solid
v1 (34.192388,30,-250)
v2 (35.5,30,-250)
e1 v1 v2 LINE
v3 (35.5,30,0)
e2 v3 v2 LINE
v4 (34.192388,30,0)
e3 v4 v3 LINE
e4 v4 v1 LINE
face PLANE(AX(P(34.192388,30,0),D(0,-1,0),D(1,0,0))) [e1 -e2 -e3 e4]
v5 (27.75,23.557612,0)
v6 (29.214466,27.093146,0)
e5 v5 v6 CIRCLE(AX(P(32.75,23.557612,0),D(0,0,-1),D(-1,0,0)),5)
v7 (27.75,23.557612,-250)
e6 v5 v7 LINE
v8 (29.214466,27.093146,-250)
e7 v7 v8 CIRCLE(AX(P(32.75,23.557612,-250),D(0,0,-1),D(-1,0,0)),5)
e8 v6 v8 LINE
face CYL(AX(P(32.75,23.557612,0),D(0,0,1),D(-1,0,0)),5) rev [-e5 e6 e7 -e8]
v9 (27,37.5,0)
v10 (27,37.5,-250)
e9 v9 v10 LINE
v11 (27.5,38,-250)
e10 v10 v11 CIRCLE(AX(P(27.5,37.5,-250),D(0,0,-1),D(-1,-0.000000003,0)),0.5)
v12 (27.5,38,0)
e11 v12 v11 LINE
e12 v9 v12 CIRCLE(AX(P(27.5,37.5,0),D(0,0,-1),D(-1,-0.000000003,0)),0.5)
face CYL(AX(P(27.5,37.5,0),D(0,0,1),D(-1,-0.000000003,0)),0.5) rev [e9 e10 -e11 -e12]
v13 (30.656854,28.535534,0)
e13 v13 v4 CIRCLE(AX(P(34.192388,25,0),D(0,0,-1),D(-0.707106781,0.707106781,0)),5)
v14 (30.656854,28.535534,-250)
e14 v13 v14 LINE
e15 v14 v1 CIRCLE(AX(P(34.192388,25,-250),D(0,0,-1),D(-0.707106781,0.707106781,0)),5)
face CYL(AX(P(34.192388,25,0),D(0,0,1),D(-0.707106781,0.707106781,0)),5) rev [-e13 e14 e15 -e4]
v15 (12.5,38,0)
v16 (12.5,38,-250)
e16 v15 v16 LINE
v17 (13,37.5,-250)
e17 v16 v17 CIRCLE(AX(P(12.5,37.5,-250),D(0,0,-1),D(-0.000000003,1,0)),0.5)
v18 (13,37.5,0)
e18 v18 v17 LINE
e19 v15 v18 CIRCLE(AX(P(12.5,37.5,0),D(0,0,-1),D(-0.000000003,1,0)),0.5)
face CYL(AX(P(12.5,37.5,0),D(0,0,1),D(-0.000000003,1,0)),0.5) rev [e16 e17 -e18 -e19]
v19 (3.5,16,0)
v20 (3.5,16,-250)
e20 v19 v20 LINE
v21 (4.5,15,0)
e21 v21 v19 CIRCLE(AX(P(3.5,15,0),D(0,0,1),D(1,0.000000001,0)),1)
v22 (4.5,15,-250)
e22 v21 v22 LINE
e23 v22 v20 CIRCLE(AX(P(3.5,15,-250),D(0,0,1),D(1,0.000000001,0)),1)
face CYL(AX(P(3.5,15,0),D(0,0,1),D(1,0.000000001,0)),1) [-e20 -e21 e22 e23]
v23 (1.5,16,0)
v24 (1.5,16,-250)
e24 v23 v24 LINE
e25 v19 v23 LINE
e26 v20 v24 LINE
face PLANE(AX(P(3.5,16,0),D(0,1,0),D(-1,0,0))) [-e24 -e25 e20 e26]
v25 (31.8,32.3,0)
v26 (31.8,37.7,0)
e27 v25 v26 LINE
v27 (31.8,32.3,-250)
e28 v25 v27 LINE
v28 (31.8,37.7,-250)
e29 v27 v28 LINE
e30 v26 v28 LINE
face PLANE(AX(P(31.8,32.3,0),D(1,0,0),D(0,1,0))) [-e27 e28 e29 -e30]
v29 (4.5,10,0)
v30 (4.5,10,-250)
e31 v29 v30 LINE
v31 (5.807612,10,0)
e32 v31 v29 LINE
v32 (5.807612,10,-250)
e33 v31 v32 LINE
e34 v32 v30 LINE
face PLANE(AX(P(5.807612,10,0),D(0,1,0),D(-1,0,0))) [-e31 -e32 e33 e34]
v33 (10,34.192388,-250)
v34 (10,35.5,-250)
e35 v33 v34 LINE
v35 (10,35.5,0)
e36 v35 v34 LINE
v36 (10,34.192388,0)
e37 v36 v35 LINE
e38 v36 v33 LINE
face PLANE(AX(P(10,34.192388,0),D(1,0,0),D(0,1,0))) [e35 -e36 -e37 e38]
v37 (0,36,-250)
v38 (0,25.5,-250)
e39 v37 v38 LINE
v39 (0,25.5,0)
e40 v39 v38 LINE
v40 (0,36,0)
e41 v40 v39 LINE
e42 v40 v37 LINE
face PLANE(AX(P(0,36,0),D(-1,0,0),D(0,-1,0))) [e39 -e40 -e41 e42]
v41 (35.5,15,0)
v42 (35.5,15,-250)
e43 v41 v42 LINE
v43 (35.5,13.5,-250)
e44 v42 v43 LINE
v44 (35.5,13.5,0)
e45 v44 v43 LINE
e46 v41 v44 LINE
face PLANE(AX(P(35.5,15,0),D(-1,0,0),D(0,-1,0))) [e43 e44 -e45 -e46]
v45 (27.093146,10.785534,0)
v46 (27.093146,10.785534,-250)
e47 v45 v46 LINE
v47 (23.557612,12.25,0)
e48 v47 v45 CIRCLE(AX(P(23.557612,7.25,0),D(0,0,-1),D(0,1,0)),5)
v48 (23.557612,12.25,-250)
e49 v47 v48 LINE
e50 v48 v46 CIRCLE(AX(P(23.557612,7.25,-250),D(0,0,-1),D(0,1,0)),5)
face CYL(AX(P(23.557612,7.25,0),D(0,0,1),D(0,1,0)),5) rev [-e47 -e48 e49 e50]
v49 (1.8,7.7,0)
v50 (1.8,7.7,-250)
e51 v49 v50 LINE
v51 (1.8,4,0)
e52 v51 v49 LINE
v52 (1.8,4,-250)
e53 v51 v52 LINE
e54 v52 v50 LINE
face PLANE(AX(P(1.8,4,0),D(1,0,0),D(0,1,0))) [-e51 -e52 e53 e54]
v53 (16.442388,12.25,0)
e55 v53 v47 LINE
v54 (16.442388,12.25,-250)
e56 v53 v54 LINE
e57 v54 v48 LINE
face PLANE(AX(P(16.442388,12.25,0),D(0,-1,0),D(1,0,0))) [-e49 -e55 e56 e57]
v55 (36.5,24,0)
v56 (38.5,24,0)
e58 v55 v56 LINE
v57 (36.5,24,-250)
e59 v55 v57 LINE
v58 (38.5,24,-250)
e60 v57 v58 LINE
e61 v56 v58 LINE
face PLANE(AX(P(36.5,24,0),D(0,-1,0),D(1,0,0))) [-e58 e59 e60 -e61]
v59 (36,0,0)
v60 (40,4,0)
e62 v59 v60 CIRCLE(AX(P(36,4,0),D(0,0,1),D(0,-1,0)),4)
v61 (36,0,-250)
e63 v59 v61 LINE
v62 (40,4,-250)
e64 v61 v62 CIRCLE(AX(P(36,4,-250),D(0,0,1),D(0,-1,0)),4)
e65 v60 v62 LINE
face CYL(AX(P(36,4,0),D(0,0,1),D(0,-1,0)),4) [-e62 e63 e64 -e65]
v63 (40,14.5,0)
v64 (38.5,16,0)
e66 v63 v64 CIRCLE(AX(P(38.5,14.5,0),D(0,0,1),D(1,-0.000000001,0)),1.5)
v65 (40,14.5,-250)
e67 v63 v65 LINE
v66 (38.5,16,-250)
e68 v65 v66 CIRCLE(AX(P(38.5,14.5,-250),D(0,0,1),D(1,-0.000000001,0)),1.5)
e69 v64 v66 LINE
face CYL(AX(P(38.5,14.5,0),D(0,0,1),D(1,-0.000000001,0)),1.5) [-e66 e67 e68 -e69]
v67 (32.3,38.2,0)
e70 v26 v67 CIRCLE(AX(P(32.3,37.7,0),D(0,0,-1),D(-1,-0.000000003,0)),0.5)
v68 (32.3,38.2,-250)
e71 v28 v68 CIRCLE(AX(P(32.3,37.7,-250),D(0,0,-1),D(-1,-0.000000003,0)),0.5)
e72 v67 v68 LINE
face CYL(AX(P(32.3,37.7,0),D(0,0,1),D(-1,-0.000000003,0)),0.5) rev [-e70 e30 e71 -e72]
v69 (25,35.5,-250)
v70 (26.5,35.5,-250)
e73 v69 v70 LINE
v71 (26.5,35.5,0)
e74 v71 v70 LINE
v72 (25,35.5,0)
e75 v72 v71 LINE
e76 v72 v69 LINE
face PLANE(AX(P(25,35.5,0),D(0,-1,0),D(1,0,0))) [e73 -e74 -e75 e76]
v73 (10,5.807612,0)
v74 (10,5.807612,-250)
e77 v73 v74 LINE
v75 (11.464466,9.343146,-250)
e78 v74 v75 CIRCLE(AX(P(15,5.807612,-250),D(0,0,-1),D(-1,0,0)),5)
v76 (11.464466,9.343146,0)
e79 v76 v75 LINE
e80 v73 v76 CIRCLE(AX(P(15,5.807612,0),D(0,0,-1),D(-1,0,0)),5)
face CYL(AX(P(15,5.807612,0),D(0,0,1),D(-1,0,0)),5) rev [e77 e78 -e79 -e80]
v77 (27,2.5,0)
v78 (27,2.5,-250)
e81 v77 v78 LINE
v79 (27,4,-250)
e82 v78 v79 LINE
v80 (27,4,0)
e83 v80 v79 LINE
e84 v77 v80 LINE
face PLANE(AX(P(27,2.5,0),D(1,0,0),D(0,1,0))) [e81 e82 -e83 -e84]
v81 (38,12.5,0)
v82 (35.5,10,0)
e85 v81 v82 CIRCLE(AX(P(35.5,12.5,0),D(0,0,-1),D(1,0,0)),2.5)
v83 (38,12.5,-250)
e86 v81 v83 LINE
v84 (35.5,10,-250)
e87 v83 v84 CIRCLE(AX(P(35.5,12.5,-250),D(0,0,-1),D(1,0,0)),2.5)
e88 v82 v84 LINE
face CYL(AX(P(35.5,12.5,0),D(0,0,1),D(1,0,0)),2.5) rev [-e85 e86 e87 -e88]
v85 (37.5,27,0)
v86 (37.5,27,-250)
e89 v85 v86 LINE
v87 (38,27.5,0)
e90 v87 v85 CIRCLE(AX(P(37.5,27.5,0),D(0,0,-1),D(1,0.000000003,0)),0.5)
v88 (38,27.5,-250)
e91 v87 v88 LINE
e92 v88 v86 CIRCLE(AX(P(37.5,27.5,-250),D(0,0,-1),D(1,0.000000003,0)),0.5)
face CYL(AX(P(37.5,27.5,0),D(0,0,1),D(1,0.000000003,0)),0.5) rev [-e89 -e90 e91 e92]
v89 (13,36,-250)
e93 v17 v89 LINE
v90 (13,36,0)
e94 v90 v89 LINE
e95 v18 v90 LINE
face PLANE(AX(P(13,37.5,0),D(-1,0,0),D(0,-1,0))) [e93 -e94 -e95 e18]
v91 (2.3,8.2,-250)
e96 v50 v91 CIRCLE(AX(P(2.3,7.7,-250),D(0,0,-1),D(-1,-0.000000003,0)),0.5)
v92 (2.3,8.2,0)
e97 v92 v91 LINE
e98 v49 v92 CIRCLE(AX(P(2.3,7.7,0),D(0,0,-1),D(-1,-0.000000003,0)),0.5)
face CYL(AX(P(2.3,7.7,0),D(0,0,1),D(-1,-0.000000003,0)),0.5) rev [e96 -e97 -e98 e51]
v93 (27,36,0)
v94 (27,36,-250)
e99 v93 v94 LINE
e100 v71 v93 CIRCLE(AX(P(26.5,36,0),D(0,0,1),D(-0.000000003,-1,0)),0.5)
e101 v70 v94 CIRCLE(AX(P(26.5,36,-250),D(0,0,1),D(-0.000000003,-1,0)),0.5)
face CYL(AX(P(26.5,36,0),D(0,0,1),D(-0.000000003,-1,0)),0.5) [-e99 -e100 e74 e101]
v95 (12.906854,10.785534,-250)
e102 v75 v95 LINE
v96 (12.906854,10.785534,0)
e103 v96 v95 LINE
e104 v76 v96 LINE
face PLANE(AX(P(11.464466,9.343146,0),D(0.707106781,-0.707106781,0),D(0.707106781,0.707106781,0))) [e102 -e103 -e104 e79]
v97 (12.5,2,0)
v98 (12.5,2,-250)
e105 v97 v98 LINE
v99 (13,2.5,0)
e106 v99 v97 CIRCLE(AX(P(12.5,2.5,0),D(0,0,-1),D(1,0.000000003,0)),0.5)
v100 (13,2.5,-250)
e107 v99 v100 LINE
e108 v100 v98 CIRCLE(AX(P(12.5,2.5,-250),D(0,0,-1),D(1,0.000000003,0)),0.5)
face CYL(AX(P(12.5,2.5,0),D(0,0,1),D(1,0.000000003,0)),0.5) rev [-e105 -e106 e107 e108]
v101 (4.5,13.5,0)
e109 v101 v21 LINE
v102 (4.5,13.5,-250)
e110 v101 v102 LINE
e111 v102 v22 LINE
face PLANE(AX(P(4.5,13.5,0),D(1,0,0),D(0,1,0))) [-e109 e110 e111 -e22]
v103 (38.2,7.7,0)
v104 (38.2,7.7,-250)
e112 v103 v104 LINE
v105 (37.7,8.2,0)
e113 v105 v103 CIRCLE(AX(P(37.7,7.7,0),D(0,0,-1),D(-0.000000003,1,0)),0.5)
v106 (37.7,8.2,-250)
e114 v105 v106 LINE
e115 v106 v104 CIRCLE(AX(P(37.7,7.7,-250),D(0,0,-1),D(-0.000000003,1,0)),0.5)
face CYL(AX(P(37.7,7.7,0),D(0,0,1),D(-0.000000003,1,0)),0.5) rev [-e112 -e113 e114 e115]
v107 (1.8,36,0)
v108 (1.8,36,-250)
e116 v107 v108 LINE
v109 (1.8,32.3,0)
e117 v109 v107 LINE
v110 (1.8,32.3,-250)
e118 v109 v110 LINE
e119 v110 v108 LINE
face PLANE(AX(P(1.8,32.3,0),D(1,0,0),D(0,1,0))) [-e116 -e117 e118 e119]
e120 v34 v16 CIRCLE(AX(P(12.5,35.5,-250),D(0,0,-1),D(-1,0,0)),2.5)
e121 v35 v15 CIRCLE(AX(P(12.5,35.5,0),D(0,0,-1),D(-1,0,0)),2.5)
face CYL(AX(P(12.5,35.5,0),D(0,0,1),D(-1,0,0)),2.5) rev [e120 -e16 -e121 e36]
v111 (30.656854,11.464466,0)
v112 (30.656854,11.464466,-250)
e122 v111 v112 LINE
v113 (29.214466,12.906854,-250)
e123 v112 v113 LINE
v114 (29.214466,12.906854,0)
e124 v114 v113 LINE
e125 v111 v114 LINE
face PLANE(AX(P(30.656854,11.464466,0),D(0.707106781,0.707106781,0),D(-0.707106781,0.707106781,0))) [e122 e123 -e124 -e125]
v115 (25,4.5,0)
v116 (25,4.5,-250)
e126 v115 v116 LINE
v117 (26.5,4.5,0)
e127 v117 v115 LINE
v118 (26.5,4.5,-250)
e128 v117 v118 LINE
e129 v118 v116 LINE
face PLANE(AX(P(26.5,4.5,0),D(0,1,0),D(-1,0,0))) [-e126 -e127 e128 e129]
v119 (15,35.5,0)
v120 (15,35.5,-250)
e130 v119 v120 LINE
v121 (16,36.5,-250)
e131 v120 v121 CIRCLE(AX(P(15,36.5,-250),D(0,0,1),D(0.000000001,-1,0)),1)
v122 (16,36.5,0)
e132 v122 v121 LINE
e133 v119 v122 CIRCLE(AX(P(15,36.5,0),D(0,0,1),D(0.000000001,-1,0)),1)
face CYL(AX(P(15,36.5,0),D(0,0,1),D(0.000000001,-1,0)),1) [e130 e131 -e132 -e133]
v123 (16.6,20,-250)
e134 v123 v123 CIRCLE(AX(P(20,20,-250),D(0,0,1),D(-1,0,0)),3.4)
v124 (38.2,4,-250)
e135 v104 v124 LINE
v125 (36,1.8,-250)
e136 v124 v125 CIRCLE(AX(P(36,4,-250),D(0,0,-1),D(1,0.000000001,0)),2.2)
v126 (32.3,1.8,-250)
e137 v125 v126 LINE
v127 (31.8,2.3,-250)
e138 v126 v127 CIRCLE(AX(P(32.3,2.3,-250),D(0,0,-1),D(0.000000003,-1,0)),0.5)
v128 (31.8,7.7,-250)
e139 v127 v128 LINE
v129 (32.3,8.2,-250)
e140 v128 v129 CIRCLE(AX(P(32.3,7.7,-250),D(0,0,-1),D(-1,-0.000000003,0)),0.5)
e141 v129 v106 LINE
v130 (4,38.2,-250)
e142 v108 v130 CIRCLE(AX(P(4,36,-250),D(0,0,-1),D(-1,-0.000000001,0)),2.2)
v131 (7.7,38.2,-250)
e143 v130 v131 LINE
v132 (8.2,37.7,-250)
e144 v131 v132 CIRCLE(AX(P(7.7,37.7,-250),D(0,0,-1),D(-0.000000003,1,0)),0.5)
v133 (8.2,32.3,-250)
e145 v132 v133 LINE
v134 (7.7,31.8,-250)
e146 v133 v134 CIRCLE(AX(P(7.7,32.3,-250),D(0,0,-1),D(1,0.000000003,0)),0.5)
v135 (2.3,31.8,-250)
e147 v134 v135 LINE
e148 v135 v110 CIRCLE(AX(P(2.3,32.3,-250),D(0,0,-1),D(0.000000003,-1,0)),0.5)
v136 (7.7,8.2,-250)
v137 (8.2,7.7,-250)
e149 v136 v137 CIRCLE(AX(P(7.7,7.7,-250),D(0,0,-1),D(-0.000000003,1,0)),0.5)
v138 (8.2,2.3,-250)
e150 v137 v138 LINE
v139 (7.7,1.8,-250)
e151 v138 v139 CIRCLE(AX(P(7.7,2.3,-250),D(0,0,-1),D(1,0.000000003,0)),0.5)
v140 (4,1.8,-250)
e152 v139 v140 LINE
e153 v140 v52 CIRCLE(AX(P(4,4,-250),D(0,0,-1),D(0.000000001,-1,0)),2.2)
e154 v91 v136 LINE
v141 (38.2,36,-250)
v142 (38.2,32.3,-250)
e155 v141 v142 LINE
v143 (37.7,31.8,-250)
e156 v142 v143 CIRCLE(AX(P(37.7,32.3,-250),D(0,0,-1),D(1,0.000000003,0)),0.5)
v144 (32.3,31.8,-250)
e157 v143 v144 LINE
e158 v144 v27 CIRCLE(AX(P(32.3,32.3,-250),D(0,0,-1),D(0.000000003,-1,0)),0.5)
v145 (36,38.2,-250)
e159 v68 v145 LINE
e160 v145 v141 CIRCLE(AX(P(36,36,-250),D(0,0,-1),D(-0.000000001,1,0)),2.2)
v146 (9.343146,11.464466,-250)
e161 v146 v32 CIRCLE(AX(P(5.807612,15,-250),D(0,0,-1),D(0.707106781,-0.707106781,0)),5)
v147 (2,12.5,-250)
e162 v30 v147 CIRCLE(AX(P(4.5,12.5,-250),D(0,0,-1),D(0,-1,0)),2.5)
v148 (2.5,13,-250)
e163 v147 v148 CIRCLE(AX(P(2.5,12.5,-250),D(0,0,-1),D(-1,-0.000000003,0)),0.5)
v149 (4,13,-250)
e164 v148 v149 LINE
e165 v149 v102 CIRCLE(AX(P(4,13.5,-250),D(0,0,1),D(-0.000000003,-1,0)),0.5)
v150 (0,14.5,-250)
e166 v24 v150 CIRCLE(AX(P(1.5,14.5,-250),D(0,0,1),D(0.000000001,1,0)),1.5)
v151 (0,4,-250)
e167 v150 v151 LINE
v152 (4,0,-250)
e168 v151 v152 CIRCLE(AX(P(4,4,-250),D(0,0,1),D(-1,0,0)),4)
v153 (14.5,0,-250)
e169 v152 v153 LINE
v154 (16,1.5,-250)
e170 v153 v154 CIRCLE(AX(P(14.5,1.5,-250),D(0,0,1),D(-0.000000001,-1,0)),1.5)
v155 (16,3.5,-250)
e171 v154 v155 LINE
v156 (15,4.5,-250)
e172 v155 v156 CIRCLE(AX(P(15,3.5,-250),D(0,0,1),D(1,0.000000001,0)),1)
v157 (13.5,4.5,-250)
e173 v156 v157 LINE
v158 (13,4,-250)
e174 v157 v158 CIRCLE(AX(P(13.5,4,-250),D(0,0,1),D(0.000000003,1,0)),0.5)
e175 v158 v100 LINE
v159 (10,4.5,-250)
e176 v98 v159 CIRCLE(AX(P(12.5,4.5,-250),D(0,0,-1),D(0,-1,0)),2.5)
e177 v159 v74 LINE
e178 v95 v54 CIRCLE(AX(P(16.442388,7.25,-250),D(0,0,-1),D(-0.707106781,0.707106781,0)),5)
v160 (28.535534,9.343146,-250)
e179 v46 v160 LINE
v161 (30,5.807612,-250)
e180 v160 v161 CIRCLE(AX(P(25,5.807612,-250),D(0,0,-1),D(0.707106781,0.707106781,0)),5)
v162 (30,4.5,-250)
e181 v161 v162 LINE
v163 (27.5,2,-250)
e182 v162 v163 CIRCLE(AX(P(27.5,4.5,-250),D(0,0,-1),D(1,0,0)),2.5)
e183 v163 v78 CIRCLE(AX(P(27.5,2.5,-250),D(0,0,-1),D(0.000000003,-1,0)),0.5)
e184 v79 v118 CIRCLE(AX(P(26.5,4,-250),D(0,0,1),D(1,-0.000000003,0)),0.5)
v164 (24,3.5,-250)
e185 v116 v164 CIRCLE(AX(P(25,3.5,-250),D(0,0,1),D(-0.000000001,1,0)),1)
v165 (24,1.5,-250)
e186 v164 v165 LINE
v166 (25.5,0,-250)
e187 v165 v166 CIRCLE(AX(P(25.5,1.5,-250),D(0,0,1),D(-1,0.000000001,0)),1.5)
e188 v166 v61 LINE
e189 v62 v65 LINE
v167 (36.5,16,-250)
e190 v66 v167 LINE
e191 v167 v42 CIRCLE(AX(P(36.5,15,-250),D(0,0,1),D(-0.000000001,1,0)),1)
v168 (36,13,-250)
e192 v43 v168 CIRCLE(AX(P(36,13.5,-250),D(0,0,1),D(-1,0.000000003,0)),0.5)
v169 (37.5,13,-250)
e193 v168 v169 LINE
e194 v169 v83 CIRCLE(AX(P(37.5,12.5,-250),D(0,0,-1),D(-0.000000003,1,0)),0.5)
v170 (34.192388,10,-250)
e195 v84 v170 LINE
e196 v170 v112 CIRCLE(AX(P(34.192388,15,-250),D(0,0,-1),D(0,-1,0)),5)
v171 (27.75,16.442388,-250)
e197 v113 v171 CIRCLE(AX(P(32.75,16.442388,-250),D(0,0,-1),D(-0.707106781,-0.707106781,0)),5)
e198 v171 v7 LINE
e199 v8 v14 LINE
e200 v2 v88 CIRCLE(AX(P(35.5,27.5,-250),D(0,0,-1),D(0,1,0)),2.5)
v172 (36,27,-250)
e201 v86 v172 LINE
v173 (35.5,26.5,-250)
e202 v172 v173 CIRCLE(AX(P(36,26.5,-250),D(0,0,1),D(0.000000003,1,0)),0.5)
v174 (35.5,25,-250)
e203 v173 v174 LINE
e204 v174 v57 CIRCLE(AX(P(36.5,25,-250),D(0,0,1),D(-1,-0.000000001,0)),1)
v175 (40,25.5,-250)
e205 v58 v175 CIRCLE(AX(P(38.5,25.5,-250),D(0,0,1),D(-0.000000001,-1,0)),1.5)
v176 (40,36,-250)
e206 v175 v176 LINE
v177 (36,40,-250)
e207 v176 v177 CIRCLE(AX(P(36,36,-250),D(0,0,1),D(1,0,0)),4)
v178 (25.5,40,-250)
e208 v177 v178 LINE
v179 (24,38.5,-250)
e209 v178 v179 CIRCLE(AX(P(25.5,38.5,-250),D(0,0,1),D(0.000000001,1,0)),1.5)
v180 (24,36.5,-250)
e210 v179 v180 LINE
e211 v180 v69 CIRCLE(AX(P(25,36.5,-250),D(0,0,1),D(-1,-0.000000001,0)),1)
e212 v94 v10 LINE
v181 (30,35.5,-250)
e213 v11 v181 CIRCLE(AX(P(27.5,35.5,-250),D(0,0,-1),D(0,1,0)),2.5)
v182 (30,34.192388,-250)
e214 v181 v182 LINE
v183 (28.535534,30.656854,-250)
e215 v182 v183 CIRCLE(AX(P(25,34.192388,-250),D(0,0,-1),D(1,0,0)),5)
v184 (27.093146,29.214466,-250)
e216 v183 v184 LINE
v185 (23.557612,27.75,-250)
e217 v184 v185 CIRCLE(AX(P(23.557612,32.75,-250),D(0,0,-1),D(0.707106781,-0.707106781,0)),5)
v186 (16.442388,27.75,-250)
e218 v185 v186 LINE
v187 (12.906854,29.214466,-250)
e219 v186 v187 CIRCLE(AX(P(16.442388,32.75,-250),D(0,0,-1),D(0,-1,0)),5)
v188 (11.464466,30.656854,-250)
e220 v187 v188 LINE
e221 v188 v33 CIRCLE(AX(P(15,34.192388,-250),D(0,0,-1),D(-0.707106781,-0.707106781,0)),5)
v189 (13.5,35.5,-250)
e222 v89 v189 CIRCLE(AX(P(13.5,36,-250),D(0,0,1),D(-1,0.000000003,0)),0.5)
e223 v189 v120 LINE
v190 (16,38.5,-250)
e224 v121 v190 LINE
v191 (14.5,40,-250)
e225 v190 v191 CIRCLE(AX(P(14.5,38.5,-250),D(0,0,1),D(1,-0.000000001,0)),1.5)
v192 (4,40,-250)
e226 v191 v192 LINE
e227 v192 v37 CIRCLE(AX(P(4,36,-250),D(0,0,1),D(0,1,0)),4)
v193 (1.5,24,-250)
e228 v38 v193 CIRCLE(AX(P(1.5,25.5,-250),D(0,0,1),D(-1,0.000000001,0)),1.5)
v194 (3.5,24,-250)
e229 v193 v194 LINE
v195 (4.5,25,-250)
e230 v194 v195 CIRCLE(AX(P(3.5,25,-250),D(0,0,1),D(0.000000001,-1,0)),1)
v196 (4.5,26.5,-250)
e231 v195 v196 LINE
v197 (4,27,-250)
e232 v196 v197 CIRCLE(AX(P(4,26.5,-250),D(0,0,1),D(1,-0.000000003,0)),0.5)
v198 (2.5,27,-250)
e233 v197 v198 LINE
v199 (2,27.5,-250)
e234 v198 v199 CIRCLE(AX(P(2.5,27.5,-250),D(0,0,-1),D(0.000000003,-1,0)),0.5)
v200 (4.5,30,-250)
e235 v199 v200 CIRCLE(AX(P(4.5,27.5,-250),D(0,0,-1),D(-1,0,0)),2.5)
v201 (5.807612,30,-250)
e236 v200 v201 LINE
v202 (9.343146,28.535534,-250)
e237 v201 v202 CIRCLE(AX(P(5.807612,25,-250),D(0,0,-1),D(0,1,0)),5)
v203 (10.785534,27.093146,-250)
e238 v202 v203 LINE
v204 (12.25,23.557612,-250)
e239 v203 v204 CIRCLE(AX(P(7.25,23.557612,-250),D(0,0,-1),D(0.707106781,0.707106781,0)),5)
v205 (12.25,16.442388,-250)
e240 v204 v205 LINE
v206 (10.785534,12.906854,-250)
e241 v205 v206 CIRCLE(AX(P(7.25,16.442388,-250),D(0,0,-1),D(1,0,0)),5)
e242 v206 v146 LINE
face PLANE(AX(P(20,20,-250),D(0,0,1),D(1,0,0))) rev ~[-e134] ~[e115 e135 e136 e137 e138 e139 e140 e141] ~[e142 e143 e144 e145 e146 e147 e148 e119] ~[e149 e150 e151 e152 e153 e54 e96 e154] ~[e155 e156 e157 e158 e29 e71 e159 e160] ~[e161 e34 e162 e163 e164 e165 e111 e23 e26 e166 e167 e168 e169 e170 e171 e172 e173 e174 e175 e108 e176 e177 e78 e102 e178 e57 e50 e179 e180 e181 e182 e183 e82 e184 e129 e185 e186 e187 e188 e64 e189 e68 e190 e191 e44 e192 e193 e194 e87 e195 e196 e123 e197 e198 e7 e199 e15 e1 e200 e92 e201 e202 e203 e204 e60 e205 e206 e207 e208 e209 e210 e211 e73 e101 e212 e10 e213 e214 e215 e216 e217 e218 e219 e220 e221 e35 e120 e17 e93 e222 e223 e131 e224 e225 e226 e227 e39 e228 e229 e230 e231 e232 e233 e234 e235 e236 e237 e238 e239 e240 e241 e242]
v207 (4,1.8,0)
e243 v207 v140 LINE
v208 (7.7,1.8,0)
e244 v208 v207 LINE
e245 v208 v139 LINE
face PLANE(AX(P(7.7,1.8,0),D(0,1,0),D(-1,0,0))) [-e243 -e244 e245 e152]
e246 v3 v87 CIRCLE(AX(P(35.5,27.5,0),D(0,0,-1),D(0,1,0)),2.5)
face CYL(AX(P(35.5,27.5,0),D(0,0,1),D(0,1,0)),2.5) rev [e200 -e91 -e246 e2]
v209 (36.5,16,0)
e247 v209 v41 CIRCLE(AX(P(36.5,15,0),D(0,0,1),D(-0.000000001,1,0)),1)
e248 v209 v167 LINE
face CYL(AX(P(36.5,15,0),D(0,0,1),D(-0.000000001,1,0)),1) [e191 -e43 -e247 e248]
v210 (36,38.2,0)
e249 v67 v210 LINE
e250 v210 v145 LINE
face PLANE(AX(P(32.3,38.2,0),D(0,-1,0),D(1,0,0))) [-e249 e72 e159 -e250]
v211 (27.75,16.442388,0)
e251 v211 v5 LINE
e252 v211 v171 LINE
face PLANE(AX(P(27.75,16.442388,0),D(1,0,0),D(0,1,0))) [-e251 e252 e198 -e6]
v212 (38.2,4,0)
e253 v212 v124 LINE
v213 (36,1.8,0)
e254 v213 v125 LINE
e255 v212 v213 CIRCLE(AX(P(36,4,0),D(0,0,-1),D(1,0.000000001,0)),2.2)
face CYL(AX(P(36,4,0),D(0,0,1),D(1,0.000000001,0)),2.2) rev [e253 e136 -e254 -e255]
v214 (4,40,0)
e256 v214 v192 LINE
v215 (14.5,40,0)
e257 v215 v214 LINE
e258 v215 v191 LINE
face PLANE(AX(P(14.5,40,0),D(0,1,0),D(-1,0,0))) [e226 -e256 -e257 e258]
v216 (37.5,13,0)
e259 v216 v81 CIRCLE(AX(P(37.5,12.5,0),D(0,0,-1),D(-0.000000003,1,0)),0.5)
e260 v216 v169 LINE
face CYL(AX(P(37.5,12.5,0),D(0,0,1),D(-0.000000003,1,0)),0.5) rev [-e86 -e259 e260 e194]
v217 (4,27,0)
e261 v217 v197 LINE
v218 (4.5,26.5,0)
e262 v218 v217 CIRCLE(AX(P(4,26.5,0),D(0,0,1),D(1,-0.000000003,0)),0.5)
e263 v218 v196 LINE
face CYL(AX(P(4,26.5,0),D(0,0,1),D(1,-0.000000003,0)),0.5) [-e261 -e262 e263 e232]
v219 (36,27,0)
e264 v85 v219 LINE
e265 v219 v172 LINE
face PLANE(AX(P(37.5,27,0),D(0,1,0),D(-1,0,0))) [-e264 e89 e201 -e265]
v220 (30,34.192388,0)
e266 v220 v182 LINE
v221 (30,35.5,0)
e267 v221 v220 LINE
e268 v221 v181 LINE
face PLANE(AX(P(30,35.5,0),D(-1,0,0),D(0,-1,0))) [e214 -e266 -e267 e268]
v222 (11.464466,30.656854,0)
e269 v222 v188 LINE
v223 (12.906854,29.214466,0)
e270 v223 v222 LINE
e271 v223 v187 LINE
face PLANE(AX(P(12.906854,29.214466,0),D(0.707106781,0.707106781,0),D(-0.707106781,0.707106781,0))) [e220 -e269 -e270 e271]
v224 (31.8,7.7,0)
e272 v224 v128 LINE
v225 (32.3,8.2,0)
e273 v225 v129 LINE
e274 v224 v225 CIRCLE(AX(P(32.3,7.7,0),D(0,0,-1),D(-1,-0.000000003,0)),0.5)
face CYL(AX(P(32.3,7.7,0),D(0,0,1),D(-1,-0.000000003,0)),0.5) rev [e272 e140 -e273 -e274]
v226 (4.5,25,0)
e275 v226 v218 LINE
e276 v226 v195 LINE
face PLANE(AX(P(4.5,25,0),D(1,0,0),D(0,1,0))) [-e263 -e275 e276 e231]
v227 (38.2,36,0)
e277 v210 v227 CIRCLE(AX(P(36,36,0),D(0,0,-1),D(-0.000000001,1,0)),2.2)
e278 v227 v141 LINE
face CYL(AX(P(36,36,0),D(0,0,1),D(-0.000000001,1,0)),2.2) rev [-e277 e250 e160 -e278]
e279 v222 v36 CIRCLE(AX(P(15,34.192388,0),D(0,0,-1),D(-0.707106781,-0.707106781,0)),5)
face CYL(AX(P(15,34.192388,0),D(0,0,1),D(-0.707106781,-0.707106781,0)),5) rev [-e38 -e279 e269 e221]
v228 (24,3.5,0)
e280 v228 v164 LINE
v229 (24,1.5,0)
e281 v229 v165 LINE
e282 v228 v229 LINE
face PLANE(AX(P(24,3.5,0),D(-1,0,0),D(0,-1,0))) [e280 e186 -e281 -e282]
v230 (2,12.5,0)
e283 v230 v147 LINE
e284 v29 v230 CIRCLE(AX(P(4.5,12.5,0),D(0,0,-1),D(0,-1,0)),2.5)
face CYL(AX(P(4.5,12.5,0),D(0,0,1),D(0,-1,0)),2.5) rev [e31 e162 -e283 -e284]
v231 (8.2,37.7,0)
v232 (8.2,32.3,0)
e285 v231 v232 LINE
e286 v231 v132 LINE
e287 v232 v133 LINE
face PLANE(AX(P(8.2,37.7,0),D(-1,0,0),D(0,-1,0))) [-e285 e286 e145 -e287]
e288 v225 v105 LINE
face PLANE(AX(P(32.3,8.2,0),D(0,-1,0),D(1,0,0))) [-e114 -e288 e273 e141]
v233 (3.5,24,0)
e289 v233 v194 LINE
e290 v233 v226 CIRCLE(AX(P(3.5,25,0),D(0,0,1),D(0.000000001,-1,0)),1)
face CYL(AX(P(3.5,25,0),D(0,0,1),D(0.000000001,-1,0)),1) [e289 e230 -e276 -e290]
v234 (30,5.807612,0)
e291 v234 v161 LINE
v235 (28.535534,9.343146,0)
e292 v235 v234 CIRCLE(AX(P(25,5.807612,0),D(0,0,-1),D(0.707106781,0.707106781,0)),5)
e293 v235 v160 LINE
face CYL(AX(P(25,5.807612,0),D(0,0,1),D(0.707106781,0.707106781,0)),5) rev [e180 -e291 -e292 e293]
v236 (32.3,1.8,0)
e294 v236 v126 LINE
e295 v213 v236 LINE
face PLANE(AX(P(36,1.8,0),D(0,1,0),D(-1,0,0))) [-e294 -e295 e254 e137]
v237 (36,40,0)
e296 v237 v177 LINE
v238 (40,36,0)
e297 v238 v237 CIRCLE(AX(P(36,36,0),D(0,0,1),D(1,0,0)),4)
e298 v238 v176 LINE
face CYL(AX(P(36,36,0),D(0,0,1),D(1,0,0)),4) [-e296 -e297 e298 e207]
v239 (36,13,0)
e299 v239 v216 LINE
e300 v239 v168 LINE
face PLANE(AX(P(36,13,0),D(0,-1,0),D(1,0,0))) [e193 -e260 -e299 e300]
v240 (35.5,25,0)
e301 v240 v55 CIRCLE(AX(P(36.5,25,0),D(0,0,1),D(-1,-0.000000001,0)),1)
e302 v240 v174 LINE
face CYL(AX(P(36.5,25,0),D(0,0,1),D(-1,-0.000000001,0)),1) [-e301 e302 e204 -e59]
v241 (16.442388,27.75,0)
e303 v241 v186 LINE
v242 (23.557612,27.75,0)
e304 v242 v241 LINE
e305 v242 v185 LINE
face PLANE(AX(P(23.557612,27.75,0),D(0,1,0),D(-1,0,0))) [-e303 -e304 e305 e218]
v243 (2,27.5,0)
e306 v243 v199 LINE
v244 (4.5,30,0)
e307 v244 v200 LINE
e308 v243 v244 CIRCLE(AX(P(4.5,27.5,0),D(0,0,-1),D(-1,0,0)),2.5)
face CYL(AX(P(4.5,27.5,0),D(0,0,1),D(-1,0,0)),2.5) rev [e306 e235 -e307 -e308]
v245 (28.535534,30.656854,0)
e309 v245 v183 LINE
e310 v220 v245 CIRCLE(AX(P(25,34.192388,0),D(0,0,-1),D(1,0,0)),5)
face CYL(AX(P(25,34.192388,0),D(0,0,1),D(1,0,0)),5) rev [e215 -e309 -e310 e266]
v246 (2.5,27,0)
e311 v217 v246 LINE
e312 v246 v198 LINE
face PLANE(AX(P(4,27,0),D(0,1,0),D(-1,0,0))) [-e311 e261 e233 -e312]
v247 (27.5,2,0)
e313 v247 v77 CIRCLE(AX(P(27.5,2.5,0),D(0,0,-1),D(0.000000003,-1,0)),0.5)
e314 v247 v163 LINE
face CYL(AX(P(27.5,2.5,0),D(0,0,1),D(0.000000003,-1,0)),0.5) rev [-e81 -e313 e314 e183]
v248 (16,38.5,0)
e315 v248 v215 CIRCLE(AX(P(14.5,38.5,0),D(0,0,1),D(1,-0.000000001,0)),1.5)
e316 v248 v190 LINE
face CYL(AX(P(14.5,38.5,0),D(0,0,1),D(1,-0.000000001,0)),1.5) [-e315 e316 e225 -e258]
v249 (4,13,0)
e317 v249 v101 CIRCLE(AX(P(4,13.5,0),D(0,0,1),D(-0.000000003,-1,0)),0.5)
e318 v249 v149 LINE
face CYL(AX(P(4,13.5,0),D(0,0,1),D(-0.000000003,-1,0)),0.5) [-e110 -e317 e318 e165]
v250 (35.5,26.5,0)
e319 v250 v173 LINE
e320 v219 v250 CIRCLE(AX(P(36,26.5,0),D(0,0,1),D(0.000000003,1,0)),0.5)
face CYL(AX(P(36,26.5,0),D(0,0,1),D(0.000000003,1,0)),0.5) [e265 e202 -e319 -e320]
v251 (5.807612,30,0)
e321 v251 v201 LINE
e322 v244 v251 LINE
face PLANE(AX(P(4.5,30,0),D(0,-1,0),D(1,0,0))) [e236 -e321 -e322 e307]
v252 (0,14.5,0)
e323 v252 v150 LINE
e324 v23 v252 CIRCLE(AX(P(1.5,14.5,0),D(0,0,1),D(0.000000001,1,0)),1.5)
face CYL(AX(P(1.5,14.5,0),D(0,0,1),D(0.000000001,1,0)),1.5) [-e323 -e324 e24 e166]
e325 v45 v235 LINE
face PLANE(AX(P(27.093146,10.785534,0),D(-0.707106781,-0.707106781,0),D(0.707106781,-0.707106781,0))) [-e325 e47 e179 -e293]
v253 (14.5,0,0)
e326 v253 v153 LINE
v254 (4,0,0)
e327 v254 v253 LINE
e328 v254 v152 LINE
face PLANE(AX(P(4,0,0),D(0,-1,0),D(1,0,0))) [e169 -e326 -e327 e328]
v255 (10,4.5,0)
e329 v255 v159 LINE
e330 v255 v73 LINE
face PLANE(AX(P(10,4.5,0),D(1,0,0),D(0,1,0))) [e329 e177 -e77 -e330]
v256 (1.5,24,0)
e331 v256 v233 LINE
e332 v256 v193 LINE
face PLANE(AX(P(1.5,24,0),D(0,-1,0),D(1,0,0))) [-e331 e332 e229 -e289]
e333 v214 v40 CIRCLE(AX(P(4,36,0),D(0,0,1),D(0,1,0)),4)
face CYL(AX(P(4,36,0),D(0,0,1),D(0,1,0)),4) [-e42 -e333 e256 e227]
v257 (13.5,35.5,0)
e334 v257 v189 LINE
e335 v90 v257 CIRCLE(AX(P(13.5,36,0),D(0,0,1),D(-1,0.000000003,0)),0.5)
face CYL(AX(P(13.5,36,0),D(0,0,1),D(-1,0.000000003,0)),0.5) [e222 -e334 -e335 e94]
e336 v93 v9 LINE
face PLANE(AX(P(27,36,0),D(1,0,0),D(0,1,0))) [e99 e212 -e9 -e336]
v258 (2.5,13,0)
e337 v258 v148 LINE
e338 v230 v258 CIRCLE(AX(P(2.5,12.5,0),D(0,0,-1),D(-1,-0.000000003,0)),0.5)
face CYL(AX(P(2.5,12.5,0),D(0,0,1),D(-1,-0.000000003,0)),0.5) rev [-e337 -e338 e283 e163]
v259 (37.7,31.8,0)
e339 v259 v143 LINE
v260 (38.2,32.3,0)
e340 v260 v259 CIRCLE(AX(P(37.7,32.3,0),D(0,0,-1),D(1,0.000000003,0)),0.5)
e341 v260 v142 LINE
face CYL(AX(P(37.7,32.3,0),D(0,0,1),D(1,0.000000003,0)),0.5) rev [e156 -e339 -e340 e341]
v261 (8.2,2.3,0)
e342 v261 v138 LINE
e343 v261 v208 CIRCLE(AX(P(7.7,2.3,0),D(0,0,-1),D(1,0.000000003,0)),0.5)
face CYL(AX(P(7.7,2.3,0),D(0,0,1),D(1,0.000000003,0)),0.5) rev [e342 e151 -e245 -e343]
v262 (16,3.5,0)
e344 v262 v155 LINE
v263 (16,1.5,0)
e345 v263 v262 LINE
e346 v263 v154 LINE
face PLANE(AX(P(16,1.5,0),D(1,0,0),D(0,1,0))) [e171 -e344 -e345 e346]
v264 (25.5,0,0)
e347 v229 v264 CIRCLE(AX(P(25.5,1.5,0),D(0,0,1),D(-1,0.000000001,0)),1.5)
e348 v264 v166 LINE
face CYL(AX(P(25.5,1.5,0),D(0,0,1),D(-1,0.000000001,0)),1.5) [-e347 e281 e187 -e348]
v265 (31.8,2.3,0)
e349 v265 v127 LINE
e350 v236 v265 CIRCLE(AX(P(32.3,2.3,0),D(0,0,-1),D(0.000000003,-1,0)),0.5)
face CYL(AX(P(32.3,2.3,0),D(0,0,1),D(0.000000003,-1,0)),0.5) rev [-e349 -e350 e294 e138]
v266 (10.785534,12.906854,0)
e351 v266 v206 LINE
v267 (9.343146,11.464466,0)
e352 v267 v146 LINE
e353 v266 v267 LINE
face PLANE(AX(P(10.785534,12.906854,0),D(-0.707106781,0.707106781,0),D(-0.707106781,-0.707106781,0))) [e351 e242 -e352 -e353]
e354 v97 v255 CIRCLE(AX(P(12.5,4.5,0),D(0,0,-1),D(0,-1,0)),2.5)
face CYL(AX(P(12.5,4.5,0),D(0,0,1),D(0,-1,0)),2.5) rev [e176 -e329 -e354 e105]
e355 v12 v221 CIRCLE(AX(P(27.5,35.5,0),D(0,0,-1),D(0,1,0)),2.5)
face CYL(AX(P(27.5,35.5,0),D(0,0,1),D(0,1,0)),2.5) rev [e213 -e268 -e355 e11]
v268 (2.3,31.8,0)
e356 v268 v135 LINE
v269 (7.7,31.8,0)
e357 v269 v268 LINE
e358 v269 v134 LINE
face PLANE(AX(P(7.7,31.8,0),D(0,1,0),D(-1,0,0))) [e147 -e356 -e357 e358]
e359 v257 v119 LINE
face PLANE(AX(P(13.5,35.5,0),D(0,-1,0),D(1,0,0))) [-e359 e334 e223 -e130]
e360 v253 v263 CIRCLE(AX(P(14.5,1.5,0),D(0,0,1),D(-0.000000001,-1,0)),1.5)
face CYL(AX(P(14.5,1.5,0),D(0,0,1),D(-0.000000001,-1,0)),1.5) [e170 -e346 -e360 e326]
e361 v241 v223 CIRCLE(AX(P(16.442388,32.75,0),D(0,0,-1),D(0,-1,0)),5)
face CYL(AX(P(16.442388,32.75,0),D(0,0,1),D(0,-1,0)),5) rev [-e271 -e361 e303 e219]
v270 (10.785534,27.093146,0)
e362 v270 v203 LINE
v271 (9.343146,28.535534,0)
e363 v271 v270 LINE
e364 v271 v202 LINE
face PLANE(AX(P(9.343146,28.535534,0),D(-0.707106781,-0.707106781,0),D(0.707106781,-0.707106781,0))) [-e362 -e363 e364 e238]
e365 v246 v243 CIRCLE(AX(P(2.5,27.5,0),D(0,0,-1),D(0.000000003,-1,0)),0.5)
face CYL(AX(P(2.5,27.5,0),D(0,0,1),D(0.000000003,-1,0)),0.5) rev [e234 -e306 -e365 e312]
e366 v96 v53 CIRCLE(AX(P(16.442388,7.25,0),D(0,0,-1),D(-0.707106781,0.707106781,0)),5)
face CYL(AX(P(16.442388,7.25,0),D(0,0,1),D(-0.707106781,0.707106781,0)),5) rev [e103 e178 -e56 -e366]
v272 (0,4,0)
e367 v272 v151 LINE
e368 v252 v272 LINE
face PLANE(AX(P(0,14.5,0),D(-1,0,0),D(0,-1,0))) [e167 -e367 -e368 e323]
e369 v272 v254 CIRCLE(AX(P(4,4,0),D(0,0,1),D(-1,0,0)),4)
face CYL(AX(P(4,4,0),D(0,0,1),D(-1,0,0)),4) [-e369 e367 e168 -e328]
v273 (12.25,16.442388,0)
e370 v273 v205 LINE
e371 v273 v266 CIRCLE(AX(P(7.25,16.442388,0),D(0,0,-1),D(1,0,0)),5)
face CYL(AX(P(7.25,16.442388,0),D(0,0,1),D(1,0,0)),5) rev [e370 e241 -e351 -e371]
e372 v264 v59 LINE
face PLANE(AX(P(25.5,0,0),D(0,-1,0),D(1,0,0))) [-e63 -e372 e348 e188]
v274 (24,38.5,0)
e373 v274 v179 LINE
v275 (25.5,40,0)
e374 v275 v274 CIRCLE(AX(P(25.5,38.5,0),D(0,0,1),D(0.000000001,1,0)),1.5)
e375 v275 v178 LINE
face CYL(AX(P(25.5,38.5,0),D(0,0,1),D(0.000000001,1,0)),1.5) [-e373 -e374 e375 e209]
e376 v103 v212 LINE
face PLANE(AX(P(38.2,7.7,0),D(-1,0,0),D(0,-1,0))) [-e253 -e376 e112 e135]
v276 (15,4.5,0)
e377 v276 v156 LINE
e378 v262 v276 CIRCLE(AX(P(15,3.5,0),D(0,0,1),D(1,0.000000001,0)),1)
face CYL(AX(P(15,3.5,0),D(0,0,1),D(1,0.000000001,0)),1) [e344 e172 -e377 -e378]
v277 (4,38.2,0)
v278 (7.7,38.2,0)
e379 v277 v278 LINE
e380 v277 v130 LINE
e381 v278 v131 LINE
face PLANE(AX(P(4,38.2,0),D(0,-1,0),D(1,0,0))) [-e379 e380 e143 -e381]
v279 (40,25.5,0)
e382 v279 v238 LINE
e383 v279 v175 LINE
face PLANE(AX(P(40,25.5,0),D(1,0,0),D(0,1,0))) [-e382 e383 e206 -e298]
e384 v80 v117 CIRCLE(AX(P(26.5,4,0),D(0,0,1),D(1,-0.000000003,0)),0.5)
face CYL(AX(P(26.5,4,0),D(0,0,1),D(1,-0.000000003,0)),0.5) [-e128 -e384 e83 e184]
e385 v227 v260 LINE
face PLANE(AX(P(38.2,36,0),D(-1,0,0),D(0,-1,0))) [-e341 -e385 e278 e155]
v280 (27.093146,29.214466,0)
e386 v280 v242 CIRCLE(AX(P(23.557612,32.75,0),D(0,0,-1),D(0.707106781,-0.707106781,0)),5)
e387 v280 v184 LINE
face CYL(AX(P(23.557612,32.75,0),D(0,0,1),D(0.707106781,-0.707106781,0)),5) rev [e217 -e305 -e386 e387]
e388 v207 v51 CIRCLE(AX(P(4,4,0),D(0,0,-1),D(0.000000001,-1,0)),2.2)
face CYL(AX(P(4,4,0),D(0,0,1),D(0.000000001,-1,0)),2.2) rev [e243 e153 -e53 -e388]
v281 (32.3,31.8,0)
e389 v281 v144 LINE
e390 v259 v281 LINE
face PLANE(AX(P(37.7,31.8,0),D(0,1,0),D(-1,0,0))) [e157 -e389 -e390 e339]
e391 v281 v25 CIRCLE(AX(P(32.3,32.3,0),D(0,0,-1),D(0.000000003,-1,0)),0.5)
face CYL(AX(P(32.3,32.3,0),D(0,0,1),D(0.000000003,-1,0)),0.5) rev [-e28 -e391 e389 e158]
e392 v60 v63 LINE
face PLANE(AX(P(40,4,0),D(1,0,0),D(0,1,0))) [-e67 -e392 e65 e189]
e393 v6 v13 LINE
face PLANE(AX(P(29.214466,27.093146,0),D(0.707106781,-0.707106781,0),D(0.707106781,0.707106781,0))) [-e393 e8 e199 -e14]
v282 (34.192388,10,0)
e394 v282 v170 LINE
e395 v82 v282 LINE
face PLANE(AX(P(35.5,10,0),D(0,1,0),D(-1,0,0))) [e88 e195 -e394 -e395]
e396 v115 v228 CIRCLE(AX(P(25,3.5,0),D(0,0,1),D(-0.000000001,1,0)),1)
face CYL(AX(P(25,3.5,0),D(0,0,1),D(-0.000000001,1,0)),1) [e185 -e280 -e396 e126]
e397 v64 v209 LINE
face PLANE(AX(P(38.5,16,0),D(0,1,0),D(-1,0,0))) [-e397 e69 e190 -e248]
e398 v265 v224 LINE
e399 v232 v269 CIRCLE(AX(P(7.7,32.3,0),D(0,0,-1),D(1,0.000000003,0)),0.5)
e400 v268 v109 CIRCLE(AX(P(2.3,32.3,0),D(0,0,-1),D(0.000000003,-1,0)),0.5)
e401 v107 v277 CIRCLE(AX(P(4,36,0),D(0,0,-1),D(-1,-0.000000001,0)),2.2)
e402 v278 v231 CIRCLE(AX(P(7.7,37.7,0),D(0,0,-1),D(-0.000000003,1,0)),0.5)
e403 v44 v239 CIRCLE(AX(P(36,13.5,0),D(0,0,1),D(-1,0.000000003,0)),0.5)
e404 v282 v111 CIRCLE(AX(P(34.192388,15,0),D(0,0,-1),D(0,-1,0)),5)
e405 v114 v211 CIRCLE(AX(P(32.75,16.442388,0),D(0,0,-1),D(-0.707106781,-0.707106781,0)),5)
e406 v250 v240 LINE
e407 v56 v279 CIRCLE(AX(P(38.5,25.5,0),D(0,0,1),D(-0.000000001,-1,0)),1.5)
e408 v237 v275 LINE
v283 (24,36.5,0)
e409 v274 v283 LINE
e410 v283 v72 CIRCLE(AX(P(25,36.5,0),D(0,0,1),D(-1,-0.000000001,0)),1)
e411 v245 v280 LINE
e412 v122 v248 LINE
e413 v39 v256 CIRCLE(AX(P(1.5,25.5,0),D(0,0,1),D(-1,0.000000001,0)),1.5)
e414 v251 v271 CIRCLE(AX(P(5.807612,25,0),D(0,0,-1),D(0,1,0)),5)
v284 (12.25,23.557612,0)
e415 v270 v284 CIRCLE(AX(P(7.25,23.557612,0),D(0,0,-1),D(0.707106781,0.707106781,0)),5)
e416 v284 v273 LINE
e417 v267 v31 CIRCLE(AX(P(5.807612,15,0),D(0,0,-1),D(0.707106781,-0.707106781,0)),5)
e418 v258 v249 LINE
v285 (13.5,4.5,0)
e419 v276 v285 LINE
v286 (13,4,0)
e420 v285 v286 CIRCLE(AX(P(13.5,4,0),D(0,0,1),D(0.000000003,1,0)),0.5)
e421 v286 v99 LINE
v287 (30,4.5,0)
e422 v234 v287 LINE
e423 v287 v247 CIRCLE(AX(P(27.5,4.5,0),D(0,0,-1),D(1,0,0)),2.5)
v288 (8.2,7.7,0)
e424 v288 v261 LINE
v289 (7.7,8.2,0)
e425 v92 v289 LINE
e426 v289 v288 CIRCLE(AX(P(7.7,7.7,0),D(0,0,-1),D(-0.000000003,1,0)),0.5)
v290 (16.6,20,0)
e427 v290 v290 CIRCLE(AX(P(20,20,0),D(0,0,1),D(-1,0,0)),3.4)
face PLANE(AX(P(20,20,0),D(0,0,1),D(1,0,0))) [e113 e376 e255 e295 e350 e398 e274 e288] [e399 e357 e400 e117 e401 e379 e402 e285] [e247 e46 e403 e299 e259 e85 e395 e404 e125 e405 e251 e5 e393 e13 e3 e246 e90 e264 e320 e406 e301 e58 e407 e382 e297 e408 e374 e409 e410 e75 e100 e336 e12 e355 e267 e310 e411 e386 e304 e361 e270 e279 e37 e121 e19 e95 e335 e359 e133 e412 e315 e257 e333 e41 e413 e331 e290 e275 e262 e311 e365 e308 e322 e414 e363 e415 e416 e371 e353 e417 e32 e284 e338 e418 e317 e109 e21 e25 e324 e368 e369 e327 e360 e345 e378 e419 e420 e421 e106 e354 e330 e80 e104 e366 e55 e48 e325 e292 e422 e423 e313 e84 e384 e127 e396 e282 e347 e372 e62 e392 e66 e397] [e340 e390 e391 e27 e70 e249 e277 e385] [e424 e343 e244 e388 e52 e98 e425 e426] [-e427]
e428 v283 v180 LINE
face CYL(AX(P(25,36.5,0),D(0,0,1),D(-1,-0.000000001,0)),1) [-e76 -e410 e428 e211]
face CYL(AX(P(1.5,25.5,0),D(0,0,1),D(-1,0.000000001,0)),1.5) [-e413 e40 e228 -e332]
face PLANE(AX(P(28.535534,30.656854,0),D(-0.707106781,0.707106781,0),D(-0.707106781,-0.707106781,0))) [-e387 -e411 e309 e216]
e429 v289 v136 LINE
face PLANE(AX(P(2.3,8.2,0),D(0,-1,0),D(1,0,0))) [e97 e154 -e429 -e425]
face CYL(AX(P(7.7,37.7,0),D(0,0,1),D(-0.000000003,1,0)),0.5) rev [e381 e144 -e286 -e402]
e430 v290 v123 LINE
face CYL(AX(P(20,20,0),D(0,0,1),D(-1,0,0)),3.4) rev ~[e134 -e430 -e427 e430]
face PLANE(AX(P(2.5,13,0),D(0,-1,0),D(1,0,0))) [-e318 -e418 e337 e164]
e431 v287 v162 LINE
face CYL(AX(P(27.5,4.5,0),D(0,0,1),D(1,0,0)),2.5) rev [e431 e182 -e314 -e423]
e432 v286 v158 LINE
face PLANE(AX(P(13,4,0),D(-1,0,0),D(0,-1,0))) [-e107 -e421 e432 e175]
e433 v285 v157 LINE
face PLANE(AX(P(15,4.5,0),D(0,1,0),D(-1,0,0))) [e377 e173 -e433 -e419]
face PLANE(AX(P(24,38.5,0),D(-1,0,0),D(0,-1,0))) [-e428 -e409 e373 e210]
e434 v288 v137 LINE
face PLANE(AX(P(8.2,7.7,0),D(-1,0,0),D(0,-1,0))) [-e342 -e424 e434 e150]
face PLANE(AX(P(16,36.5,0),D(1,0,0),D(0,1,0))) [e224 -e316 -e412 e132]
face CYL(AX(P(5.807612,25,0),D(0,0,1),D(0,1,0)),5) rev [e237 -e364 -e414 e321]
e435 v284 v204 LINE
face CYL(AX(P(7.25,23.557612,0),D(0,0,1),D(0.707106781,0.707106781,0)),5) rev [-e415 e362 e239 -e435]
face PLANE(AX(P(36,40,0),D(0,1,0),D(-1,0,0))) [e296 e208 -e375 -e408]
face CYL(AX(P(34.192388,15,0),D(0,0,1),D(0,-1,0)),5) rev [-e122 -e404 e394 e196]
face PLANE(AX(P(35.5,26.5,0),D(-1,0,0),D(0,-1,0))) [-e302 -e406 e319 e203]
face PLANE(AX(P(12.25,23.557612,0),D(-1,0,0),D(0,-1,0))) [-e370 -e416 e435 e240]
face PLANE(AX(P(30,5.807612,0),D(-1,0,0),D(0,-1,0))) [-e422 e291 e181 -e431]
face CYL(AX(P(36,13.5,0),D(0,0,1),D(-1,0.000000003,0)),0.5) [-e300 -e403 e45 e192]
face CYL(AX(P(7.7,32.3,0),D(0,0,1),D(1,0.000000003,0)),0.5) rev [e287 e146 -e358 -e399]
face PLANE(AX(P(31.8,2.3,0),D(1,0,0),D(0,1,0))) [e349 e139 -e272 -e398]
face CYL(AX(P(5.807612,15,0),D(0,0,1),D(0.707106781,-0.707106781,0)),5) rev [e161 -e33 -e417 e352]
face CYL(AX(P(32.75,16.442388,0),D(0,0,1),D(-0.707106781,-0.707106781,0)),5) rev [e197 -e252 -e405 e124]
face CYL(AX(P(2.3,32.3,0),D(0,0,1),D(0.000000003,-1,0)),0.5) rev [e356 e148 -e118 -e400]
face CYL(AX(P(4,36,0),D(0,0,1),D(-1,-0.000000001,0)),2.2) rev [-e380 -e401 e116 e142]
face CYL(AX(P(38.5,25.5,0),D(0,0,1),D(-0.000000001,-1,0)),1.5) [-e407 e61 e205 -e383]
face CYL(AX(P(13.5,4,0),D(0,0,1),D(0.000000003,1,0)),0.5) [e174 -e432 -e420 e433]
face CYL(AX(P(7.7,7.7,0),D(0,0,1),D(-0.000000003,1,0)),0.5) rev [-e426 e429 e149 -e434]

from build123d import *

# Parameters (mm, degrees)
SKETCH1_R           = 3.4
BOSS_EXTRUDE1_DEPTH = 250


with BuildPart() as part:
    # Sketch1 → Boss-Extrude1 (new body)
    with BuildSketch(Plane.XY):
        with BuildLine():
            Line((0, 36), (0, 25.5))
            ThreePointArc((0, 25.5), (0.439339828, 24.439339828), (1.5, 24))
            Line((1.5, 24), (3.5, 24))
            ThreePointArc((3.5, 24), (4.207106781, 24.292893219), (4.5, 25))
            Line((4.5, 25), (4.5, 26.5))
            ThreePointArc((4.5, 26.5), (4.353553391, 26.853553391), (4, 27))
            Line((4, 27), (2.5, 27))
            ThreePointArc((2.5, 27), (2.146446609, 27.146446609), (2, 27.5))
            ThreePointArc((2, 27.5), (2.732233047, 29.267766953), (4.5, 30))
            Line((4.5, 30), (5.807611845, 30))
            ThreePointArc((5.807611845, 30), (7.721029006, 29.619397663), (9.343145751, 28.535533906))
            Line((9.343145751, 28.535533906), (10.785533906, 27.093145751))
            ThreePointArc((10.785533906, 27.093145751), (11.869397663, 25.471029006), (12.25, 23.557611845))
            Line((12.25, 23.557611845), (12.25, 16.442388155))
            ThreePointArc((12.25, 16.442388155), (11.869397663, 14.528970994), (10.785533906, 12.906854249))
            Line((10.785533906, 12.906854249), (9.343145751, 11.464466094))
            ThreePointArc((9.343145751, 11.464466094), (7.721029006, 10.380602337), (5.807611845, 10))
            Line((5.807611845, 10), (4.5, 10))
            ThreePointArc((4.5, 10), (2.732233047, 10.732233047), (2, 12.5))
            ThreePointArc((2, 12.5), (2.146446609, 12.853553391), (2.5, 13))
            Line((2.5, 13), (4, 13))
            ThreePointArc((4, 13), (4.353553391, 13.146446609), (4.5, 13.5))
            Line((4.5, 13.5), (4.5, 15))
            ThreePointArc((4.5, 15), (4.207106781, 15.707106781), (3.5, 16))
            Line((3.5, 16), (1.5, 16))
            ThreePointArc((1.5, 16), (0.439339828, 15.560660172), (0, 14.5))
            Line((0, 14.5), (0, 4))
            ThreePointArc((0, 4), (1.171572875, 1.171572875), (4, 0))
            Line((4, 0), (14.5, 0))
            ThreePointArc((14.5, 0), (15.560660172, 0.439339828), (16, 1.5))
            Line((16, 1.5), (16, 3.5))
            ThreePointArc((16, 3.5), (15.707106781, 4.207106781), (15, 4.5))
            Line((15, 4.5), (13.5, 4.5))
            ThreePointArc((13.5, 4.5), (13.146446609, 4.353553391), (13, 4))
            Line((13, 4), (13, 2.5))
            ThreePointArc((13, 2.5), (12.853553391, 2.146446609), (12.5, 2))
            ThreePointArc((12.5, 2), (10.732233047, 2.732233047), (10, 4.5))
            Line((10, 4.5), (10, 5.807611845))
            ThreePointArc((10, 5.807611845), (10.380602337, 7.721029006), (11.464466094, 9.343145751))
            Line((11.464466094, 9.343145751), (12.906854249, 10.785533906))
            ThreePointArc((12.906854249, 10.785533906), (14.528970994, 11.869397663), (16.442388155, 12.25))
            Line((16.442388155, 12.25), (23.557611845, 12.25))
            ThreePointArc((23.557611845, 12.25), (25.471029006, 11.869397663), (27.093145751, 10.785533906))
            Line((27.093145751, 10.785533906), (28.535533906, 9.343145751))
            ThreePointArc((28.535533906, 9.343145751), (29.619397663, 7.721029006), (30, 5.807611845))
            Line((30, 5.807611845), (30, 4.5))
            ThreePointArc((30, 4.5), (29.267766953, 2.732233047), (27.5, 2))
            ThreePointArc((27.5, 2), (27.146446609, 2.146446609), (27, 2.5))
            Line((27, 2.5), (27, 4))
            ThreePointArc((27, 4), (26.853553391, 4.353553391), (26.5, 4.5))
            Line((26.5, 4.5), (25, 4.5))
            ThreePointArc((25, 4.5), (24.292893219, 4.207106781), (24, 3.5))
            Line((24, 3.5), (24, 1.5))
            ThreePointArc((24, 1.5), (24.439339828, 0.439339828), (25.5, 0))
            Line((25.5, 0), (36, 0))
            ThreePointArc((36, 0), (38.828427125, 1.171572875), (40, 4))
            Line((40, 4), (40, 14.5))
            ThreePointArc((40, 14.5), (39.560660172, 15.560660172), (38.5, 16))
            Line((38.5, 16), (36.5, 16))
            ThreePointArc((36.5, 16), (35.792893219, 15.707106781), (35.5, 15))
            Line((35.5, 15), (35.5, 13.5))
            ThreePointArc((35.5, 13.5), (35.646446609, 13.146446609), (36, 13))
            Line((36, 13), (37.5, 13))
            ThreePointArc((37.5, 13), (37.853553391, 12.853553391), (38, 12.5))
            ThreePointArc((38, 12.5), (37.267766953, 10.732233047), (35.5, 10))
            Line((35.5, 10), (34.192388155, 10))
            ThreePointArc((34.192388155, 10), (32.278970994, 10.380602337), (30.656854249, 11.464466094))
            Line((30.656854249, 11.464466094), (29.214466094, 12.906854249))
            ThreePointArc((29.214466094, 12.906854249), (28.130602337, 14.528970994), (27.75, 16.442388155))
            Line((27.75, 16.442388155), (27.75, 23.557611845))
            ThreePointArc((27.75, 23.557611845), (28.130602337, 25.471029006), (29.214466094, 27.093145751))
            Line((29.214466094, 27.093145751), (30.656854249, 28.535533906))
            ThreePointArc((30.656854249, 28.535533906), (32.278970994, 29.619397663), (34.192388155, 30))
            Line((34.192388155, 30), (35.5, 30))
            ThreePointArc((35.5, 30), (37.267766953, 29.267766953), (38, 27.5))
            ThreePointArc((38, 27.5), (37.853553391, 27.146446609), (37.5, 27))
            Line((37.5, 27), (36, 27))
            ThreePointArc((36, 27), (35.646446609, 26.853553391), (35.5, 26.5))
            Line((35.5, 26.5), (35.5, 25))
            ThreePointArc((35.5, 25), (35.792893219, 24.292893219), (36.5, 24))
            Line((36.5, 24), (38.5, 24))
            ThreePointArc((38.5, 24), (39.560660172, 24.439339828), (40, 25.5))
            Line((40, 25.5), (40, 36))
            ThreePointArc((40, 36), (38.828427125, 38.828427125), (36, 40))
            Line((36, 40), (25.5, 40))
            ThreePointArc((25.5, 40), (24.439339828, 39.560660172), (24, 38.5))
            Line((24, 38.5), (24, 36.5))
            ThreePointArc((24, 36.5), (24.292893219, 35.792893219), (25, 35.5))
            Line((25, 35.5), (26.5, 35.5))
            ThreePointArc((26.5, 35.5), (26.853553391, 35.646446609), (27, 36))
            Line((27, 36), (27, 37.5))
            ThreePointArc((27, 37.5), (27.146446609, 37.853553391), (27.5, 38))
            ThreePointArc((27.5, 38), (29.267766953, 37.267766953), (30, 35.5))
            Line((30, 35.5), (30, 34.192388155))
            ThreePointArc((30, 34.192388155), (29.619397663, 32.278970994), (28.535533906, 30.656854249))
            Line((28.535533906, 30.656854249), (27.093145751, 29.214466094))
            ThreePointArc((27.093145751, 29.214466094), (25.471029006, 28.130602337), (23.557611845, 27.75))
            Line((23.557611845, 27.75), (16.442388155, 27.75))
            ThreePointArc((16.442388155, 27.75), (14.528970994, 28.130602337), (12.906854249, 29.214466094))
            Line((12.906854249, 29.214466094), (11.464466094, 30.656854249))
            ThreePointArc((11.464466094, 30.656854249), (10.380602337, 32.278970994), (10, 34.192388155))
            Line((10, 34.192388155), (10, 35.5))
            ThreePointArc((10, 35.5), (10.732233047, 37.267766953), (12.5, 38))
            ThreePointArc((12.5, 38), (12.853553391, 37.853553391), (13, 37.5))
            Line((13, 37.5), (13, 36))
            ThreePointArc((13, 36), (13.146446609, 35.646446609), (13.5, 35.5))
            Line((13.5, 35.5), (15, 35.5))
            ThreePointArc((15, 35.5), (15.707106781, 35.792893219), (16, 36.5))
            Line((16, 36.5), (16, 38.5))
            ThreePointArc((16, 38.5), (15.560660172, 39.560660172), (14.5, 40))
            Line((14.5, 40), (4, 40))
            ThreePointArc((4, 40), (1.171572875, 38.828427125), (0, 36))
        make_face()
        with Locations(Location((20, 20, 0), (0, 0, 180))):
            Circle(SKETCH1_R, mode=Mode.SUBTRACT)
        with BuildLine():
            Line((1.8, 4), (1.8, 7.7))
            ThreePointArc((1.8, 7.7), (1.946446609, 8.053553391), (2.3, 8.2))
            Line((2.3, 8.2), (7.7, 8.2))
            ThreePointArc((7.7, 8.2), (8.053553391, 8.053553391), (8.2, 7.7))
            Line((8.2, 7.7), (8.2, 2.3))
            ThreePointArc((8.2, 2.3), (8.053553391, 1.946446609), (7.7, 1.8))
            Line((7.7, 1.8), (4, 1.8))
            ThreePointArc((4, 1.8), (2.444365081, 2.444365081), (1.8, 4))
        make_face(mode=Mode.SUBTRACT)
        with BuildLine():
            Line((4, 38.2), (7.7, 38.2))
            ThreePointArc((7.7, 38.2), (8.053553391, 38.053553391), (8.2, 37.7))
            Line((8.2, 37.7), (8.2, 32.3))
            ThreePointArc((8.2, 32.3), (8.053553391, 31.946446609), (7.7, 31.8))
            Line((7.7, 31.8), (2.3, 31.8))
            ThreePointArc((2.3, 31.8), (1.946446609, 31.946446609), (1.8, 32.3))
            Line((1.8, 32.3), (1.8, 36))
            ThreePointArc((1.8, 36), (2.444365081, 37.555634919), (4, 38.2))
        make_face(mode=Mode.SUBTRACT)
        with BuildLine():
            Line((31.8, 32.3), (31.8, 37.7))
            ThreePointArc((31.8, 37.7), (31.946446609, 38.053553391), (32.3, 38.2))
            Line((32.3, 38.2), (36, 38.2))
            ThreePointArc((36, 38.2), (37.555634919, 37.555634919), (38.2, 36))
            Line((38.2, 36), (38.2, 32.3))
            ThreePointArc((38.2, 32.3), (38.053553391, 31.946446609), (37.7, 31.8))
            Line((37.7, 31.8), (32.3, 31.8))
            ThreePointArc((32.3, 31.8), (31.946446609, 31.946446609), (31.8, 32.3))
        make_face(mode=Mode.SUBTRACT)
        with BuildLine():
            Line((32.3, 8.2), (37.7, 8.2))
            ThreePointArc((37.7, 8.2), (38.053553391, 8.053553391), (38.2, 7.7))
            Line((38.2, 7.7), (38.2, 4))
            ThreePointArc((38.2, 4), (37.555634919, 2.444365081), (36, 1.8))
            Line((36, 1.8), (32.3, 1.8))
            ThreePointArc((32.3, 1.8), (31.946446609, 1.946446609), (31.8, 2.3))
            Line((31.8, 2.3), (31.8, 7.7))
            ThreePointArc((31.8, 7.7), (31.946446609, 8.053553391), (32.3, 8.2))
        make_face(mode=Mode.SUBTRACT)
    extrude(amount=-BOSS_EXTRUDE1_DEPTH)


solid = part.part
